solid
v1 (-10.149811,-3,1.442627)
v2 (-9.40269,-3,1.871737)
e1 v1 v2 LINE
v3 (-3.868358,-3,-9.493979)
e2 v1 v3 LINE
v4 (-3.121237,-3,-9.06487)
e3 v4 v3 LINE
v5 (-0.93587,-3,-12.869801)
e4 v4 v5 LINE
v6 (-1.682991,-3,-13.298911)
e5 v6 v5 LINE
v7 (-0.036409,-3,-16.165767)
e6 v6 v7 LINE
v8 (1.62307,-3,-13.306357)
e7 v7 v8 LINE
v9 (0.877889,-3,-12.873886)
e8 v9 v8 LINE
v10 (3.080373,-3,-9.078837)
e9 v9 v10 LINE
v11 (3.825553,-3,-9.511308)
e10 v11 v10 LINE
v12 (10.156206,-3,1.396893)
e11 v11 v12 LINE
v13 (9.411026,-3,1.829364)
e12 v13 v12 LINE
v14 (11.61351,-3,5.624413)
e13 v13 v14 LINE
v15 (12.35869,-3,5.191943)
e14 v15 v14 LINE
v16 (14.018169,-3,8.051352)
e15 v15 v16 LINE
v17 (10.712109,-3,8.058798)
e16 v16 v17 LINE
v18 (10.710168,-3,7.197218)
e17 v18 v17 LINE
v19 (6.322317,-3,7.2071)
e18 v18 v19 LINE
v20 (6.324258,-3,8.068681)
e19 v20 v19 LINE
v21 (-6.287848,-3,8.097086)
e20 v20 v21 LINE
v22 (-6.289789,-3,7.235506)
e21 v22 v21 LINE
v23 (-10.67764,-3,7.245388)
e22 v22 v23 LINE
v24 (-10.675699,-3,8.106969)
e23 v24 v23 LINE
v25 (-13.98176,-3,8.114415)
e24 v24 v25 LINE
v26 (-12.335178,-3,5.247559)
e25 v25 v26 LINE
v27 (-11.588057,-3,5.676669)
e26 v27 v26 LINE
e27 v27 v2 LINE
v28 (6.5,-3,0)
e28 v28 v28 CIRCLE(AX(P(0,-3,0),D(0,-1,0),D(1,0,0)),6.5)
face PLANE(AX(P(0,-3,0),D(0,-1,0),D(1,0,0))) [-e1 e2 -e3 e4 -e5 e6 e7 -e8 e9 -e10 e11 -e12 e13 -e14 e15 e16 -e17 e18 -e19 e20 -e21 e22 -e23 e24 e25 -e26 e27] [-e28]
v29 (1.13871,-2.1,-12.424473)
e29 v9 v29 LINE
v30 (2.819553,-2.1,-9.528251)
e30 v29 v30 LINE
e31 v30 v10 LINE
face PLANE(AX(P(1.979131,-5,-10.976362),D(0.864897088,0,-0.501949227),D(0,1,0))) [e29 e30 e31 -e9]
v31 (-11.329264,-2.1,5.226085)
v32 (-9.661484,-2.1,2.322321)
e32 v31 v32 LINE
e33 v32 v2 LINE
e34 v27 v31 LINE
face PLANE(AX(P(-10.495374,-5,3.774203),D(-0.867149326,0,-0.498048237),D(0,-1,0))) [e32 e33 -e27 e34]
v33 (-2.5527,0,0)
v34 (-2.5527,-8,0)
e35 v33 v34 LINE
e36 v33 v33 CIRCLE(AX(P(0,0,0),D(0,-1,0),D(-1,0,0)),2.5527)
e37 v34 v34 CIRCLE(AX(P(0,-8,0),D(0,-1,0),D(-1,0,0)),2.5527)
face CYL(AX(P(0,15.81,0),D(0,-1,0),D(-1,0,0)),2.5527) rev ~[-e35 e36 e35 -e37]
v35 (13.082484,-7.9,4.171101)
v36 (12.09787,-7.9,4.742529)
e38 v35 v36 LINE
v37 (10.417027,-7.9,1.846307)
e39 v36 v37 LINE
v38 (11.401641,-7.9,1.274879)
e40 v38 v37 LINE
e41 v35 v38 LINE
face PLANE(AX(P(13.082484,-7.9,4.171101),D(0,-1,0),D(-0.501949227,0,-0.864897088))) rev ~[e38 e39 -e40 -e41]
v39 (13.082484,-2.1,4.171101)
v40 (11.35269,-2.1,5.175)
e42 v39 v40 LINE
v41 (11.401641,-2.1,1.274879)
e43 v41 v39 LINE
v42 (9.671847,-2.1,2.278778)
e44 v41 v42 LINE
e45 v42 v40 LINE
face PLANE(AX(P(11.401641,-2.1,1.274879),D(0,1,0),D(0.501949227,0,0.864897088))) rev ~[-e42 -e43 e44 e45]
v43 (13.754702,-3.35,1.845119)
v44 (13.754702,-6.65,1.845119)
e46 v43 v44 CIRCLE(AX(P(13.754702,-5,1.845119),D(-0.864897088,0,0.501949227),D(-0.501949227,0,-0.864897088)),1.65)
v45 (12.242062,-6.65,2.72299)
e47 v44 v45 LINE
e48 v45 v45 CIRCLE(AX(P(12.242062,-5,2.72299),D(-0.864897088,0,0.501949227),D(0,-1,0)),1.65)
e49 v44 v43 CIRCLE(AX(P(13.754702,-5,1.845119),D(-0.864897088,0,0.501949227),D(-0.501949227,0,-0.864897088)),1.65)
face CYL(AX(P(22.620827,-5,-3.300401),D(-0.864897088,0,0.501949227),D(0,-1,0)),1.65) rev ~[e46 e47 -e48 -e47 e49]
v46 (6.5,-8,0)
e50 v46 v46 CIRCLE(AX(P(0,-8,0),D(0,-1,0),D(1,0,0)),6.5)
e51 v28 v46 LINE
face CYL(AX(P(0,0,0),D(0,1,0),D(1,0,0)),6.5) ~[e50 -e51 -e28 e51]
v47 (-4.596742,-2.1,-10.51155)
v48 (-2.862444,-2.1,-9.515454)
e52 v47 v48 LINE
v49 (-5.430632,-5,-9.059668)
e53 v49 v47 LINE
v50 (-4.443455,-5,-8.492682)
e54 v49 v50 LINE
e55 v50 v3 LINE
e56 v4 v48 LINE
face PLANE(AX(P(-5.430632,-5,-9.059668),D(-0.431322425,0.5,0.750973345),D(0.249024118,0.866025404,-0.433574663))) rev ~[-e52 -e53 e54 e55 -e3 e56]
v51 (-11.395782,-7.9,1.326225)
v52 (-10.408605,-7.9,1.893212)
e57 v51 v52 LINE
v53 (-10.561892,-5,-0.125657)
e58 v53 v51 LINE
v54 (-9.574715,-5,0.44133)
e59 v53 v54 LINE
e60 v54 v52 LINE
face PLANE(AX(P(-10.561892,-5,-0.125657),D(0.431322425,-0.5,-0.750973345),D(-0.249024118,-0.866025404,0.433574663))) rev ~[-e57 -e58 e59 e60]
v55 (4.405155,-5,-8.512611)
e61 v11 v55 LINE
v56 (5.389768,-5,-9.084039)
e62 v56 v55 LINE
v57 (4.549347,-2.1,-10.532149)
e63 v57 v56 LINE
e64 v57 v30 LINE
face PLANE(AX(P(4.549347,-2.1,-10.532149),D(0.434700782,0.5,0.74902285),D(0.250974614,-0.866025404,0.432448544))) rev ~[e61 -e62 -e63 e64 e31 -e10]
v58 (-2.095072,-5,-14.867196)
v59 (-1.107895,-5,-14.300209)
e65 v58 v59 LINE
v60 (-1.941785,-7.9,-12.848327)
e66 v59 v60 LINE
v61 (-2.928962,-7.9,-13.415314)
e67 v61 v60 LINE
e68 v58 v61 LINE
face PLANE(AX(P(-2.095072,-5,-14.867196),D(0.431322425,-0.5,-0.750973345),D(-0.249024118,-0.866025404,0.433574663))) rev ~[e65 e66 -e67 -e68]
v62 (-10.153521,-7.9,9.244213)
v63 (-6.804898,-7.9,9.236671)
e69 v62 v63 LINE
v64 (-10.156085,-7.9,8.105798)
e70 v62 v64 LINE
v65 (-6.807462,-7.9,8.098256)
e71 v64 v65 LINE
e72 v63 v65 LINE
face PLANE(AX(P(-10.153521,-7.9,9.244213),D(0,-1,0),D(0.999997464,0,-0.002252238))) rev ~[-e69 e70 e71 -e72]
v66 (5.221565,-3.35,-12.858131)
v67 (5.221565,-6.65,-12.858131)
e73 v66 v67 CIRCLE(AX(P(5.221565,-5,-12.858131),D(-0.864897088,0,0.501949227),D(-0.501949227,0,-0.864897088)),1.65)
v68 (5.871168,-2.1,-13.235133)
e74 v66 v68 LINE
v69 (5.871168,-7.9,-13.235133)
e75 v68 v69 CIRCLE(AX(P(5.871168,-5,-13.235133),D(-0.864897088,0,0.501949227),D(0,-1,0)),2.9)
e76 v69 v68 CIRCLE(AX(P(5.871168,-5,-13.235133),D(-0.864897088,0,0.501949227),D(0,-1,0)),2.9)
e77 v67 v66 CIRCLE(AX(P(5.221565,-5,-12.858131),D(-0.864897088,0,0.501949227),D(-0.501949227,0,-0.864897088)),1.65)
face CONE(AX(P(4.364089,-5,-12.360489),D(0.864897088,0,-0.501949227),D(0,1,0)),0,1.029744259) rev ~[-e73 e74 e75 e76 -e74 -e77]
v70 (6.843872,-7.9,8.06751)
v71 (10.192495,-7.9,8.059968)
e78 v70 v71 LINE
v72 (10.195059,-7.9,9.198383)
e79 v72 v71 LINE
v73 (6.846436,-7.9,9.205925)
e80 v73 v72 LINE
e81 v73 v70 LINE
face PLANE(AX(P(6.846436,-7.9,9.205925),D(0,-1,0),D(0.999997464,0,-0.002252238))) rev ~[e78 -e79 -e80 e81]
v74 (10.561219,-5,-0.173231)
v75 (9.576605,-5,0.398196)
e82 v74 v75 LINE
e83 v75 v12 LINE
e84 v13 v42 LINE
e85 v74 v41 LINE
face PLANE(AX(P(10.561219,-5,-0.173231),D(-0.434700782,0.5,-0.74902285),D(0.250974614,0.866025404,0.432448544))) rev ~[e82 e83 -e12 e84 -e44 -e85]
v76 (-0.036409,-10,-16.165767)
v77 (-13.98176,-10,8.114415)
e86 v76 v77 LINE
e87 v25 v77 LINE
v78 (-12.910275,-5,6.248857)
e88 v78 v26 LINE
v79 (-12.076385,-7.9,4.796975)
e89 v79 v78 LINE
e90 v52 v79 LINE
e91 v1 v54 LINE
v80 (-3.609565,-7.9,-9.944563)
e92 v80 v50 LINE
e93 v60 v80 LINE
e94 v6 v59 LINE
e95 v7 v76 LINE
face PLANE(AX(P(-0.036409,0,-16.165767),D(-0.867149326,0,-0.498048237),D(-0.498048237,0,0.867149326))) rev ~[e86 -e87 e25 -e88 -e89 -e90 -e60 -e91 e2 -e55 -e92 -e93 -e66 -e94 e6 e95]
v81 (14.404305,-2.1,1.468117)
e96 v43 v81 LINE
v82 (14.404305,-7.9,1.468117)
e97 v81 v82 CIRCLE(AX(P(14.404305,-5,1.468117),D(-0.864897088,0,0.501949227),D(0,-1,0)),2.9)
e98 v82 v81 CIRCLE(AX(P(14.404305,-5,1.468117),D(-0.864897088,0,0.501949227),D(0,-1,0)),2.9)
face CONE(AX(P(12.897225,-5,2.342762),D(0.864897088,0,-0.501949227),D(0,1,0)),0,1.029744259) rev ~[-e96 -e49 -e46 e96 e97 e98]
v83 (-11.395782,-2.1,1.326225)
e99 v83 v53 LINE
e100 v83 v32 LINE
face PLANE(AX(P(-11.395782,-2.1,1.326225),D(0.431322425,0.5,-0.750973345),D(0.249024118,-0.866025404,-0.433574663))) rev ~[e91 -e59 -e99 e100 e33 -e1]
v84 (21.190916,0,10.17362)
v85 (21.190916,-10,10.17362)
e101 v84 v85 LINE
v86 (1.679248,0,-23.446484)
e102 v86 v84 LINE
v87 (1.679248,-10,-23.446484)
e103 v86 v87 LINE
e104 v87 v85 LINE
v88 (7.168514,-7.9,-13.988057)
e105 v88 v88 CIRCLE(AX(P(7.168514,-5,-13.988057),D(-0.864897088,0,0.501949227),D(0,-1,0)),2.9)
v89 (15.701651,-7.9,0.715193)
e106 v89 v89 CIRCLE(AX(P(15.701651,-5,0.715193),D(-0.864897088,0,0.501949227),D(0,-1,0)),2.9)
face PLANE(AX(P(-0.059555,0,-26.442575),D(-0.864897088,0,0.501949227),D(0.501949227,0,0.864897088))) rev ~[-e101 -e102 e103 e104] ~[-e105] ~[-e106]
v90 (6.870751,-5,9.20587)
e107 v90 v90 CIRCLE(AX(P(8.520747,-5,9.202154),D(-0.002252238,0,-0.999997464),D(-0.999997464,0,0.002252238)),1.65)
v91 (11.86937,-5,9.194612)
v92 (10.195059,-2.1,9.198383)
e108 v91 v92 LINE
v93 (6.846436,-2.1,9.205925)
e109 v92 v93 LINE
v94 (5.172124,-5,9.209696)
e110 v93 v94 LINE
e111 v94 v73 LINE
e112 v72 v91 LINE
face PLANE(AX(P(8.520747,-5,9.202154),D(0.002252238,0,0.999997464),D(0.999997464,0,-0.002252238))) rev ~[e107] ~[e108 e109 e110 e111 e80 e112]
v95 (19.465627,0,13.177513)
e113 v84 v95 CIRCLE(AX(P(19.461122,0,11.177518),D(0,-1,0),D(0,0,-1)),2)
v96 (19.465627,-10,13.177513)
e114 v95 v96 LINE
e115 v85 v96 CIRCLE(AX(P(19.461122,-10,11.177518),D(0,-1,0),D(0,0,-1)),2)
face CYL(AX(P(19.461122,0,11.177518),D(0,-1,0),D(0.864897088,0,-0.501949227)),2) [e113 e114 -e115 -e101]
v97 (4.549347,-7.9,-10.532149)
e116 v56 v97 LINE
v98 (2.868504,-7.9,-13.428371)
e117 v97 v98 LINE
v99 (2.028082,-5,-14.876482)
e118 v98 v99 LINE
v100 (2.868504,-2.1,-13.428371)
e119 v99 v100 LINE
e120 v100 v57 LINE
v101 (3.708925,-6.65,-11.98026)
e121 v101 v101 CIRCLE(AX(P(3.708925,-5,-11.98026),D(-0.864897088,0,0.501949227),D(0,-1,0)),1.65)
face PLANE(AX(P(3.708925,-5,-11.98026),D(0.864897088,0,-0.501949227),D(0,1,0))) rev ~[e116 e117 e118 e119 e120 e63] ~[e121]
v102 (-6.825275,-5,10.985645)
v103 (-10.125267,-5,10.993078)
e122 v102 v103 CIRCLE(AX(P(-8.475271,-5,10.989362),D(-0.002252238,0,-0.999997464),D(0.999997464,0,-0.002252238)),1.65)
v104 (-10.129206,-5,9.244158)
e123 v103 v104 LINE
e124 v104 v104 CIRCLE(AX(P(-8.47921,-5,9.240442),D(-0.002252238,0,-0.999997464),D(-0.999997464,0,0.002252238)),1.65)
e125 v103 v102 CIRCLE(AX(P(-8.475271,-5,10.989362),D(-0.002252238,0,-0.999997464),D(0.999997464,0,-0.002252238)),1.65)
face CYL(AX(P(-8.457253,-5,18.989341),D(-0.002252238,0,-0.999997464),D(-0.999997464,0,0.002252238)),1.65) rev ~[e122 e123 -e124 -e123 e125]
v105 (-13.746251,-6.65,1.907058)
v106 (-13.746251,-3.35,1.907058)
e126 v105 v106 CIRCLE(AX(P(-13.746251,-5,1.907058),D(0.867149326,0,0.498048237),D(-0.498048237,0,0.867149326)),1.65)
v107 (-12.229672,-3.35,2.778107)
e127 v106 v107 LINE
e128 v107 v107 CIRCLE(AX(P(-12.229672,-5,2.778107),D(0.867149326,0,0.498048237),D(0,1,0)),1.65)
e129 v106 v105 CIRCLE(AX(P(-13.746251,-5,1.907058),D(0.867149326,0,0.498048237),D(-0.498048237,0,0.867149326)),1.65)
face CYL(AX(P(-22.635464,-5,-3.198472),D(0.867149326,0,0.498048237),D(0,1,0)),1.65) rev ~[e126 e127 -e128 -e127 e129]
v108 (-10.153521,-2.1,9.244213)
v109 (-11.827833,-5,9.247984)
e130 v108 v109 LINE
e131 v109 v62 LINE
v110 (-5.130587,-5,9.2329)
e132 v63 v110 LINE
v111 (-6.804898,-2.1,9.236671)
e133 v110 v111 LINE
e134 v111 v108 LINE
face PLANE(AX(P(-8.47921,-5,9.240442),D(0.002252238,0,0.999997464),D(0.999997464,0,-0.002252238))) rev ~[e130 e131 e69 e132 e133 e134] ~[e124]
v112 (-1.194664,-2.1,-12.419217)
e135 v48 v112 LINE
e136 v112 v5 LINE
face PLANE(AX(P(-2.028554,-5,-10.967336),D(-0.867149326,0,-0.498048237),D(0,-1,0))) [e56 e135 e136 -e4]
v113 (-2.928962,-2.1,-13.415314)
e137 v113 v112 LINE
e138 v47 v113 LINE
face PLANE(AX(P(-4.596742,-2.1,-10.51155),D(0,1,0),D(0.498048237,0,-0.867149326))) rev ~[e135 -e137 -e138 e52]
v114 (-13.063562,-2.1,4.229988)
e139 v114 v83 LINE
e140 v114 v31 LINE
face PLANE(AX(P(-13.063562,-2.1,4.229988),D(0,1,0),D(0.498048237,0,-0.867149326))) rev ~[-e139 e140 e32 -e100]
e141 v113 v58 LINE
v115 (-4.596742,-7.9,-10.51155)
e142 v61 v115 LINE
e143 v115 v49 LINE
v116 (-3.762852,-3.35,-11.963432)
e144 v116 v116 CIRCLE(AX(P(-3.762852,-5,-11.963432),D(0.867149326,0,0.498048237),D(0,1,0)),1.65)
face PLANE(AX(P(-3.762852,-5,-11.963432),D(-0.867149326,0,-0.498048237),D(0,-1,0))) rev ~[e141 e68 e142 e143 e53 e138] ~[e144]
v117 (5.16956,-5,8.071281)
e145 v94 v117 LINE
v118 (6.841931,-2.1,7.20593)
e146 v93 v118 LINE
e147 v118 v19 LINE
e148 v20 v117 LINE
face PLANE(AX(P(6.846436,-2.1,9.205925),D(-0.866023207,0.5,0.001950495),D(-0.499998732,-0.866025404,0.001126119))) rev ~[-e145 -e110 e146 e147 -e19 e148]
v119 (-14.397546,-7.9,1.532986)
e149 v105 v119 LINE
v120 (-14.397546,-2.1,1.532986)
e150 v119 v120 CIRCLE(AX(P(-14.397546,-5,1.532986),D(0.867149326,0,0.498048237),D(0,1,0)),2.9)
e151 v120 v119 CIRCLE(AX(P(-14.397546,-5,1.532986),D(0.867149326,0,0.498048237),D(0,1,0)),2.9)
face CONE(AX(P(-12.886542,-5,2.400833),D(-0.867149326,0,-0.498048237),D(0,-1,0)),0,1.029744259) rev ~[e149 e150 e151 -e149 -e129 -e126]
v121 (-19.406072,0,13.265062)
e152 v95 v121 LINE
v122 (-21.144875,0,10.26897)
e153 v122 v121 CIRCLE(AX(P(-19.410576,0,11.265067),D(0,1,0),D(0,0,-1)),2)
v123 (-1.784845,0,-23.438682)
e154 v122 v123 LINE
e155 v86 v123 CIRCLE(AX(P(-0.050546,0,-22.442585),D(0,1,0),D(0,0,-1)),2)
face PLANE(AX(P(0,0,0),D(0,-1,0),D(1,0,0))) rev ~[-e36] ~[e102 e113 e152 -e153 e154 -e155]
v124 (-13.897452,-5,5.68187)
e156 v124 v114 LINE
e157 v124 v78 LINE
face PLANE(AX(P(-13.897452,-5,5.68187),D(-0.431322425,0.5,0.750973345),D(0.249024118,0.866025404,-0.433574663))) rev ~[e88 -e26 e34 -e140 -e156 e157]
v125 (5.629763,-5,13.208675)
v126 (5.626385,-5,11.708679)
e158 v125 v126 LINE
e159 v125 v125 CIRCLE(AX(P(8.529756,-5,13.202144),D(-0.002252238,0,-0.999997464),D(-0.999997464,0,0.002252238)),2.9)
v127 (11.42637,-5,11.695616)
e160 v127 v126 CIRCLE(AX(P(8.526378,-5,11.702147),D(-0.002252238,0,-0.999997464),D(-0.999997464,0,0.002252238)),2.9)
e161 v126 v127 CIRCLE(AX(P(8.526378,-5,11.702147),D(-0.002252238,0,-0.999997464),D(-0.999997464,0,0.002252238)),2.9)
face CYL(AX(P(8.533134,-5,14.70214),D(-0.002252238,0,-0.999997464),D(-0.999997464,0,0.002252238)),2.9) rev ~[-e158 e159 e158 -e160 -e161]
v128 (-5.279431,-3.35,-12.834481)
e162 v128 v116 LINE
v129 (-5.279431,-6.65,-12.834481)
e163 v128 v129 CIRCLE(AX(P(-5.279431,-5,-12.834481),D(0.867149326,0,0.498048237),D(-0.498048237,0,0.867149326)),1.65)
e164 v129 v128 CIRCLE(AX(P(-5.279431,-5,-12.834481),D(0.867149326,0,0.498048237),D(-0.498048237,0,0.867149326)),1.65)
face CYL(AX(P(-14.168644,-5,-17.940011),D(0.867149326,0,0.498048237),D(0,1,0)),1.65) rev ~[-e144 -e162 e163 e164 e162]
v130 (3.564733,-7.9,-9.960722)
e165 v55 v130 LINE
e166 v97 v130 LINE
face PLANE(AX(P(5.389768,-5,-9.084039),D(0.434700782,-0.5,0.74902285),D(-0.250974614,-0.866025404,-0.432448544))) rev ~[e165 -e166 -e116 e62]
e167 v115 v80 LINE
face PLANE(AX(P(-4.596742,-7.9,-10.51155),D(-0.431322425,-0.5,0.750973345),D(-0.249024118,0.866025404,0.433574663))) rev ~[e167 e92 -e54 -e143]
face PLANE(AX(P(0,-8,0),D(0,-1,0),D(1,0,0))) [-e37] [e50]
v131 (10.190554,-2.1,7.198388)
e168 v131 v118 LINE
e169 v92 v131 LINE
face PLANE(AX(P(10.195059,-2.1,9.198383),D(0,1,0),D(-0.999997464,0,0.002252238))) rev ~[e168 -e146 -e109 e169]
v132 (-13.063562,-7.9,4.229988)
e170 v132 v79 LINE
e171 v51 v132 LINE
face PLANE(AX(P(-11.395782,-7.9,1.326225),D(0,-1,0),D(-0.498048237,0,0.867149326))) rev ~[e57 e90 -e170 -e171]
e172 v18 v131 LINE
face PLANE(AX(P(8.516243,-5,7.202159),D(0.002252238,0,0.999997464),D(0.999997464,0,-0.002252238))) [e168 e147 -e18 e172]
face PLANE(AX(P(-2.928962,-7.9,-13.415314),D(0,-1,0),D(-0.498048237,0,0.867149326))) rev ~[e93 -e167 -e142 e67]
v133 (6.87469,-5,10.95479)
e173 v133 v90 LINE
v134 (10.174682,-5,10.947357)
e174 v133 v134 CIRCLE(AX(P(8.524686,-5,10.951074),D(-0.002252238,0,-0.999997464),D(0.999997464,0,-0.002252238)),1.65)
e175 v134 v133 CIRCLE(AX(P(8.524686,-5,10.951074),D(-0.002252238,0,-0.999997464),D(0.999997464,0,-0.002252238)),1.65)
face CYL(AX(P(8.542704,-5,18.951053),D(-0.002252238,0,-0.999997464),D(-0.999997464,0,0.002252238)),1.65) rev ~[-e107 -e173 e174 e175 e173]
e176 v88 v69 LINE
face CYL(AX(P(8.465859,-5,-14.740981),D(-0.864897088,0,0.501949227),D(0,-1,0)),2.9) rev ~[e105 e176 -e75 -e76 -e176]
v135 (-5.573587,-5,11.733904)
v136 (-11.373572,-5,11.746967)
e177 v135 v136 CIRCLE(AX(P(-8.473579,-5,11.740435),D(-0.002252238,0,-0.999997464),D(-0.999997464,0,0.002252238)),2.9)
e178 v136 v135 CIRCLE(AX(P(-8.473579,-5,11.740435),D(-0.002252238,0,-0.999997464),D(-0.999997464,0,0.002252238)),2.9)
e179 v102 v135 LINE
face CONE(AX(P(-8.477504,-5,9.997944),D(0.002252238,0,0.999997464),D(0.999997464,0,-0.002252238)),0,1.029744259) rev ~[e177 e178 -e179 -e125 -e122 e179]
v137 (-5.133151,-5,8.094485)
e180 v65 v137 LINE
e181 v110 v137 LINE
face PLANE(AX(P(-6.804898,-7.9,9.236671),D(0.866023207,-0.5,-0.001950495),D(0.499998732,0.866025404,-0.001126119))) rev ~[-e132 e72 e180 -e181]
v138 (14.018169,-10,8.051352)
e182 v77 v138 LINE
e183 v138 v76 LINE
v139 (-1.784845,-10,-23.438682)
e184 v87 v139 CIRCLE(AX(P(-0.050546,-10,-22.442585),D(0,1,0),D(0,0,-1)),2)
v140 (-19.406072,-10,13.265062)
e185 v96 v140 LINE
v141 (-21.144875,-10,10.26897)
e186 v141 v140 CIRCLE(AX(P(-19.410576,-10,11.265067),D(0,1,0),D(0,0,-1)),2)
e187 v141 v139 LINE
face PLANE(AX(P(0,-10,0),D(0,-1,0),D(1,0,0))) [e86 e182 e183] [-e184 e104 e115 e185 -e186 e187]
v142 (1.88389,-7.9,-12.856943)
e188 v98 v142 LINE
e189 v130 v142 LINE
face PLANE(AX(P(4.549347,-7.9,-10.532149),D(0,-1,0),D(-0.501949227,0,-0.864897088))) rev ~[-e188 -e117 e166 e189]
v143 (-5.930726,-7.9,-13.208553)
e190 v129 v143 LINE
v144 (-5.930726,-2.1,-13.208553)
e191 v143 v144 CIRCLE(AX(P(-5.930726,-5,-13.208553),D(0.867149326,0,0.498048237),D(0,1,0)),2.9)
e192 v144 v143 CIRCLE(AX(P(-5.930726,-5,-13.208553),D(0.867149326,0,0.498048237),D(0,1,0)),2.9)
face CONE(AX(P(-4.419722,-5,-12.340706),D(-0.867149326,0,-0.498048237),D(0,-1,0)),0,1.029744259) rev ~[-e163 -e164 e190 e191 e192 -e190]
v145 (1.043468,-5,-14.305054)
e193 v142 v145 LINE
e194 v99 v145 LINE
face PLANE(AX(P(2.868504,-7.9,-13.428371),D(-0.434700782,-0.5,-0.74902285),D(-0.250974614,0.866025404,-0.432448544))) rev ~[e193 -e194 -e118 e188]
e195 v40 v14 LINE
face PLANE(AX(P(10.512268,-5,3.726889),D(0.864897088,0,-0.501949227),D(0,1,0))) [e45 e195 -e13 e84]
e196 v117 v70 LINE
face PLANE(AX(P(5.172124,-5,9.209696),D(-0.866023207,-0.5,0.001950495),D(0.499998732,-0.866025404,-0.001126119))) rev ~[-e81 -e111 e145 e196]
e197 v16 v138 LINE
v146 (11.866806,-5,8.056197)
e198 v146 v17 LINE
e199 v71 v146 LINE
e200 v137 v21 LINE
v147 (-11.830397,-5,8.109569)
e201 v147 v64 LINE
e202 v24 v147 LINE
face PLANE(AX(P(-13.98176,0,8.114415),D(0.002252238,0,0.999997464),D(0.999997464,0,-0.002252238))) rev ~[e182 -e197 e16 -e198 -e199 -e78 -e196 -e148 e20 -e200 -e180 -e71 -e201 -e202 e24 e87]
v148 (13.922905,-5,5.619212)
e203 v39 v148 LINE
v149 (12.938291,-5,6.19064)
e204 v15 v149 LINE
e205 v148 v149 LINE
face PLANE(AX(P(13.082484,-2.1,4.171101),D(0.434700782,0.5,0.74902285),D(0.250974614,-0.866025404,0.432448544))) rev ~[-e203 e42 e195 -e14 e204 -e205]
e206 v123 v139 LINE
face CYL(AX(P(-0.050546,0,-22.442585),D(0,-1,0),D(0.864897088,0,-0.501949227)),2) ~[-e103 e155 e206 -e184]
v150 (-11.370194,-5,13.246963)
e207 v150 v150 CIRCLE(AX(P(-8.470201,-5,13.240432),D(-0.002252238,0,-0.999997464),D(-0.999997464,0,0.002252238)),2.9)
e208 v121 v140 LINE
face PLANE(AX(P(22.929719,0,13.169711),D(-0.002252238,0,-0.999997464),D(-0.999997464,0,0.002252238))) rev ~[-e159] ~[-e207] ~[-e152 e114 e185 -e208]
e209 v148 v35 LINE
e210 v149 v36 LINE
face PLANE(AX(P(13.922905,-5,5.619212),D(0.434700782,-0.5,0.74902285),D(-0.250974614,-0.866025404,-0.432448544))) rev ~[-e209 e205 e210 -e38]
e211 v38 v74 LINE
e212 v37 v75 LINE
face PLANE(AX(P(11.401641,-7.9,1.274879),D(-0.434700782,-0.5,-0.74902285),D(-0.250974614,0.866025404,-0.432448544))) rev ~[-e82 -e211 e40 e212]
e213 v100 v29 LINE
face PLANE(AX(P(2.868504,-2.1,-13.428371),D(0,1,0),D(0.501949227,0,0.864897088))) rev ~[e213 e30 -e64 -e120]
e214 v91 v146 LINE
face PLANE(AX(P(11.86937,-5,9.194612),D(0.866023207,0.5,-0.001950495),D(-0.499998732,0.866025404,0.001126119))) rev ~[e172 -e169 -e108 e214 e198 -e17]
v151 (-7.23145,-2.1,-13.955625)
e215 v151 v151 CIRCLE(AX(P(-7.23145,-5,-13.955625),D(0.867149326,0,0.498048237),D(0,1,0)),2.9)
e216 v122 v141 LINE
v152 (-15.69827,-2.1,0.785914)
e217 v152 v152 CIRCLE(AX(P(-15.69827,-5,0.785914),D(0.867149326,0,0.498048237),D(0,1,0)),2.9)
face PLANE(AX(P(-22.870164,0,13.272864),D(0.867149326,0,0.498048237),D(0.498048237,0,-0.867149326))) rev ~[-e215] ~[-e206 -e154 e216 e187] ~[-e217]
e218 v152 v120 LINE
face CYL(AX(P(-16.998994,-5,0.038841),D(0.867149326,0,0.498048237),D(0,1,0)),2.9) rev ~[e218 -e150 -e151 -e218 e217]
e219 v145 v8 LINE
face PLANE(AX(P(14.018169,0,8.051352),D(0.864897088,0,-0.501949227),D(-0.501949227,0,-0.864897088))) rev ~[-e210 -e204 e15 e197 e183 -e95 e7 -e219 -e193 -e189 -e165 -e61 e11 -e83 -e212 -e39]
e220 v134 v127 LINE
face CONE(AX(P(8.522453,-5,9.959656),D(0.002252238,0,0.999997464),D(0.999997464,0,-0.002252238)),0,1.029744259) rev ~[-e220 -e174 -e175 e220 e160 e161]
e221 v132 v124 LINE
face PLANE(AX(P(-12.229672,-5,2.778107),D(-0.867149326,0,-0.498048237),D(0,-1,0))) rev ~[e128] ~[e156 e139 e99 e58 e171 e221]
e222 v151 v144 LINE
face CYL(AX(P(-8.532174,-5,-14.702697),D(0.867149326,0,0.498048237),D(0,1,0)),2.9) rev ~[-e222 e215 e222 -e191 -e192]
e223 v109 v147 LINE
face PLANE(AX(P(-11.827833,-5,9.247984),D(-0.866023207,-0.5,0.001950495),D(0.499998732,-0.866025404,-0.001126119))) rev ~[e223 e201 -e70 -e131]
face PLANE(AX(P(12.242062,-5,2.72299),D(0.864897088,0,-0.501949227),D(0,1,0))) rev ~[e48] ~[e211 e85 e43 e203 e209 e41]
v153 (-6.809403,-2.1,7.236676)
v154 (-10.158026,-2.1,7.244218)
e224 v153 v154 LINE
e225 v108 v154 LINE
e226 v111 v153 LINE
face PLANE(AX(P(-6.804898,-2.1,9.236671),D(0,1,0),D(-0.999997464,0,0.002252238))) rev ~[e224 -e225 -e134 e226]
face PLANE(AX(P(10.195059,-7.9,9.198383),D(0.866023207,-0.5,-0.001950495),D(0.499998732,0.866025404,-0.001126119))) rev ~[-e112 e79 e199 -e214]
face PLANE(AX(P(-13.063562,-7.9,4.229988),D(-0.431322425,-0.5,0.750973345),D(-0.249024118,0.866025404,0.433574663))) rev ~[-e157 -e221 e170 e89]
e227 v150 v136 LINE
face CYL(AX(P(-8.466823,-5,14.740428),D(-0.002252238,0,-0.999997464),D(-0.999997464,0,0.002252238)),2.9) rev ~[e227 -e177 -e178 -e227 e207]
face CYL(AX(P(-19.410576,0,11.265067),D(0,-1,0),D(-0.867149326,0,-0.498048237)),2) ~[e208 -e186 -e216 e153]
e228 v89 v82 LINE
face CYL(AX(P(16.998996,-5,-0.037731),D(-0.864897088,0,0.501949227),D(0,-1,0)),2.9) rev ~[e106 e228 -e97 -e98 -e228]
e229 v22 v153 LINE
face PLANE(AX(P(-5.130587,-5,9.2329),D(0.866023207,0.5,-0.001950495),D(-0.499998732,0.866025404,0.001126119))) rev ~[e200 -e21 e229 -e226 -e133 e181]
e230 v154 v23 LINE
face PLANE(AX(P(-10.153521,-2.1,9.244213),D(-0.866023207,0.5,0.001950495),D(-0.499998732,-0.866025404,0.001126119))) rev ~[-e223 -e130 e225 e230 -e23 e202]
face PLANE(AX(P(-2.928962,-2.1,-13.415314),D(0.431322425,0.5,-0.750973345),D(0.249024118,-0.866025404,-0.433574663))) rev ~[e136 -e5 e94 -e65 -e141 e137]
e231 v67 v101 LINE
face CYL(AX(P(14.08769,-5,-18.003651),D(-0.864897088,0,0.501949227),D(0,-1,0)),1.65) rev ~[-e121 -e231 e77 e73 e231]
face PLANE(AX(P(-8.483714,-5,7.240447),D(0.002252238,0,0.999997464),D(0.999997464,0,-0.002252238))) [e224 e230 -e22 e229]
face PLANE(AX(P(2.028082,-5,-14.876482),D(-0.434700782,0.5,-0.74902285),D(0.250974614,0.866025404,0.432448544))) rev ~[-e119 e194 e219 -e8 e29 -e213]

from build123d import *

# Parameters (mm, degrees)
F0_R      = 6.5
F1_DEPTH  = 3
F2_DEPTH  = 10
F4_D      = 3.3
F4_DEPTH  = 8
F4_TIP    = 0.9914200214
F5_D      = 5.8
F5_DEPTH  = 1.5
F5_TIP    = 1.7424957952
F6_START  = -4
F6_DEPTH  = 2
F8_START  = -4
F8_DEPTH  = 2
F9_D      = 5.8
F9_DEPTH  = 1.5
F9_TIP    = 1.7424957952
F10_D     = 3.3
F10_DEPTH = 8
F10_START = 2.2510758
F10_TIP   = 0.9914200214
F12_START = -4
F12_DEPTH = 2
F13_D     = 3.3
F13_DEPTH = 8
F13_TIP   = 0.9914200214
F14_D     = 5.8
F14_DEPTH = 1.5
F14_TIP   = 1.7424957952
F15_R     = 2
F16_DEPTH = 8
F17_D     = 5.1054
F17_DEPTH = 15.81
F17_TIP   = 1.5338169022


with BuildPart() as f1:
    # F0 (on Front) → F1 (new body)
    with BuildSketch(Plane.XZ):
        Polygon((-0.0364092433, -16.1657665361), (14.0181691136, 8.0513519384), (-13.9817598703, 8.1144145977), align=None)
        Circle(F0_R, mode=Mode.SUBTRACT)
    extrude(amount=F1_DEPTH)

    # F0 (on Front) → F2 (join)
    with BuildSketch(Plane.XZ):
        Polygon((-0.0595551194, -26.4425752627), (22.9297194786, 13.169711385), (-22.8701643592, 13.2728638777), align=None)
        Polygon((-13.9817598703, 8.1144145977), (14.0181691136, 8.0513519384), (-0.0364092433, -16.1657665361), align=None, mode=Mode.SUBTRACT)
    extrude(amount=F2_DEPTH)

    # F4
    with Locations(Plane(origin=(11.4350821796, 0, -6.6364319388), x_dir=(0, 1, 0), z_dir=(0.8648970884, 0, -0.501949227))):
        with Locations((-5, -8.5), (-5, 8.5)):
            Hole(F4_D / 2, depth=F4_DEPTH)
            with Locations((0, 0, -(F4_DEPTH + F4_TIP / 2))):  # 118° drill point
                Cone(0, F4_D / 2, F4_TIP, mode=Mode.SUBTRACT)

    # F5
    with Locations(Plane(origin=(11.4350821796, 0, -6.6364319388), x_dir=(0, 1, 0), z_dir=(0.8648970884, 0, -0.501949227))):
        with Locations((-5, -8.5), (-5, 8.5)):
            Hole(F5_D / 2, depth=F5_DEPTH)
            with Locations((0, 0, -(F5_DEPTH + F5_TIP / 2))):  # 118° drill point
                Cone(0, F5_D / 2, F5_TIP, mode=Mode.SUBTRACT)

    # F3 (on face) → F6 (cut)
    with BuildSketch(Plane(origin=(11.4350821796, 0, -6.6364319388), x_dir=(0, 1, 0), z_dir=(0.8648970884, 0, -0.501949227)).offset(F6_START)):
        Polygon((-2.1, -10.1743157806), (-2.1, -6.8256842194), (-5, -5.1513684387), (-7.9, -6.8256842194), (-7.9, -10.1743157806), (-5, -11.8486315613), align=None)
        Polygon((-2.1, 6.8256842194), (-2.1, 10.1743157806), (-5, 11.8486315613), (-7.9, 10.1743157806), (-7.9, 6.8256842194), (-5, 5.1513684387), align=None)
    extrude(amount=-F6_DEPTH, mode=Mode.SUBTRACT)

    # F7 (on face) → F8 (cut)
    with BuildSketch(Plane(origin=(0.0297775597, 0, 13.2212876313), x_dir=(0.9999974637, 0, -0.0022522378), z_dir=(0.0022522378, 0, 0.9999974637)).offset(F8_START)):
        Polygon((6.8256842194, -2.1), (5.1513684387, -5), (6.8256842194, -7.9), (10.1743157806, -7.9), (11.8486315613, -5), (10.1743157806, -2.1), align=None)
        Polygon((-10.1743157806, -2.1), (-11.8486315613, -5), (-10.1743157806, -7.9), (-6.8256842194, -7.9), (-5.1513684387, -5), (-6.8256842194, -2.1), align=None)
    extrude(amount=-F8_DEPTH, mode=Mode.SUBTRACT)

    # F9
    with Locations(Plane(origin=(0.0297775597, 0, 13.2212876313), x_dir=(0.9999974637, 0, -0.0022522378), z_dir=(0.0022522378, 0, 0.9999974637))):
        with Locations((8.5, -5), (-8.5, -5)):
            Hole(F9_D / 2, depth=F9_DEPTH)
            with Locations((0, 0, -(F9_DEPTH + F9_TIP / 2))):  # 118° drill point
                Cone(0, F9_D / 2, F9_TIP, mode=Mode.SUBTRACT)

    # F10
    # its depths count from where the whole tool has entered the part; down to there all is cleared
    with Locations(Plane(origin=(0.0297775597, 0, 13.2212876313), x_dir=(0.9999974637, 0, -0.0022522378), z_dir=(0.0022522378, 0, 0.9999974637)).offset(-F10_START)):
        with Locations((8.5, -5), (-8.5, -5)):
            Hole(F10_D / 2, depth=F10_DEPTH)
            with Locations((0, 0, -(F10_DEPTH + F10_TIP / 2))):  # 118° drill point
                Cone(0, F10_D / 2, F10_TIP, mode=Mode.SUBTRACT)

    # F11 (on face) → F12 (cut)
    with BuildSketch(Plane(origin=(-11.4648597393, 0, -6.5848556925), x_dir=(0, -1, 0), z_dir=(-0.8671493262, 0, -0.4980482367)).offset(F12_START)):
        Polygon((2.1, 6.8256842194), (5, 5.1513684387), (7.9, 6.8256842194), (7.9, 10.1743157806), (5, 11.8486315613), (2.1, 10.1743157806), align=None)
        Polygon((2.1, -10.1743157806), (5, -11.8486315613), (7.9, -10.1743157806), (7.9, -6.8256842194), (5, -5.1513684387), (2.1, -6.8256842194), align=None)
    extrude(amount=-F12_DEPTH, mode=Mode.SUBTRACT)

    # F13
    with Locations(Plane(origin=(-11.4648597393, 0, -6.5848556925), x_dir=(0, -1, 0), z_dir=(-0.8671493262, 0, -0.4980482367))):
        with Locations((5, 8.5), (5, -8.5)):
            Hole(F13_D / 2, depth=F13_DEPTH)
            with Locations((0, 0, -(F13_DEPTH + F13_TIP / 2))):  # 118° drill point
                Cone(0, F13_D / 2, F13_TIP, mode=Mode.SUBTRACT)

    # F14
    with Locations(Plane(origin=(-11.4648597393, 0, -6.5848556925), x_dir=(0, -1, 0), z_dir=(-0.8671493262, 0, -0.4980482367))):
        with Locations((5, 8.5), (5, -8.5)):
            Hole(F14_D / 2, depth=F14_DEPTH)
            with Locations((0, 0, -(F14_DEPTH + F14_TIP / 2))):  # 118° drill point
                Cone(0, F14_D / 2, F14_TIP, mode=Mode.SUBTRACT)

    # F15
    f15_edges = [f1.edges().sort_by_distance(p)[0] for p in [
        (-22.870164, -5, 13.272864),
        (-0.059555, -5, -26.442575),
        (22.929719, -5, 13.169711),
    ]]
    fillet(f15_edges, radius=F15_R)

    # F0 (on Front) → F16 (join)
    with BuildSketch(Plane.XZ):
        Circle(F0_R)
    extrude(amount=F16_DEPTH)

    # F17
    with Locations(Plane(origin=(0, 0, 0), x_dir=(1, 0, 0), z_dir=(0, 1, 0))):
        with Locations((0, 0)):
            Hole(F17_D / 2, depth=F17_DEPTH)
            with Locations((0, 0, -(F17_DEPTH + F17_TIP / 2))):  # 118° drill point
                Cone(0, F17_D / 2, F17_TIP, mode=Mode.SUBTRACT)


solid = f1.part
